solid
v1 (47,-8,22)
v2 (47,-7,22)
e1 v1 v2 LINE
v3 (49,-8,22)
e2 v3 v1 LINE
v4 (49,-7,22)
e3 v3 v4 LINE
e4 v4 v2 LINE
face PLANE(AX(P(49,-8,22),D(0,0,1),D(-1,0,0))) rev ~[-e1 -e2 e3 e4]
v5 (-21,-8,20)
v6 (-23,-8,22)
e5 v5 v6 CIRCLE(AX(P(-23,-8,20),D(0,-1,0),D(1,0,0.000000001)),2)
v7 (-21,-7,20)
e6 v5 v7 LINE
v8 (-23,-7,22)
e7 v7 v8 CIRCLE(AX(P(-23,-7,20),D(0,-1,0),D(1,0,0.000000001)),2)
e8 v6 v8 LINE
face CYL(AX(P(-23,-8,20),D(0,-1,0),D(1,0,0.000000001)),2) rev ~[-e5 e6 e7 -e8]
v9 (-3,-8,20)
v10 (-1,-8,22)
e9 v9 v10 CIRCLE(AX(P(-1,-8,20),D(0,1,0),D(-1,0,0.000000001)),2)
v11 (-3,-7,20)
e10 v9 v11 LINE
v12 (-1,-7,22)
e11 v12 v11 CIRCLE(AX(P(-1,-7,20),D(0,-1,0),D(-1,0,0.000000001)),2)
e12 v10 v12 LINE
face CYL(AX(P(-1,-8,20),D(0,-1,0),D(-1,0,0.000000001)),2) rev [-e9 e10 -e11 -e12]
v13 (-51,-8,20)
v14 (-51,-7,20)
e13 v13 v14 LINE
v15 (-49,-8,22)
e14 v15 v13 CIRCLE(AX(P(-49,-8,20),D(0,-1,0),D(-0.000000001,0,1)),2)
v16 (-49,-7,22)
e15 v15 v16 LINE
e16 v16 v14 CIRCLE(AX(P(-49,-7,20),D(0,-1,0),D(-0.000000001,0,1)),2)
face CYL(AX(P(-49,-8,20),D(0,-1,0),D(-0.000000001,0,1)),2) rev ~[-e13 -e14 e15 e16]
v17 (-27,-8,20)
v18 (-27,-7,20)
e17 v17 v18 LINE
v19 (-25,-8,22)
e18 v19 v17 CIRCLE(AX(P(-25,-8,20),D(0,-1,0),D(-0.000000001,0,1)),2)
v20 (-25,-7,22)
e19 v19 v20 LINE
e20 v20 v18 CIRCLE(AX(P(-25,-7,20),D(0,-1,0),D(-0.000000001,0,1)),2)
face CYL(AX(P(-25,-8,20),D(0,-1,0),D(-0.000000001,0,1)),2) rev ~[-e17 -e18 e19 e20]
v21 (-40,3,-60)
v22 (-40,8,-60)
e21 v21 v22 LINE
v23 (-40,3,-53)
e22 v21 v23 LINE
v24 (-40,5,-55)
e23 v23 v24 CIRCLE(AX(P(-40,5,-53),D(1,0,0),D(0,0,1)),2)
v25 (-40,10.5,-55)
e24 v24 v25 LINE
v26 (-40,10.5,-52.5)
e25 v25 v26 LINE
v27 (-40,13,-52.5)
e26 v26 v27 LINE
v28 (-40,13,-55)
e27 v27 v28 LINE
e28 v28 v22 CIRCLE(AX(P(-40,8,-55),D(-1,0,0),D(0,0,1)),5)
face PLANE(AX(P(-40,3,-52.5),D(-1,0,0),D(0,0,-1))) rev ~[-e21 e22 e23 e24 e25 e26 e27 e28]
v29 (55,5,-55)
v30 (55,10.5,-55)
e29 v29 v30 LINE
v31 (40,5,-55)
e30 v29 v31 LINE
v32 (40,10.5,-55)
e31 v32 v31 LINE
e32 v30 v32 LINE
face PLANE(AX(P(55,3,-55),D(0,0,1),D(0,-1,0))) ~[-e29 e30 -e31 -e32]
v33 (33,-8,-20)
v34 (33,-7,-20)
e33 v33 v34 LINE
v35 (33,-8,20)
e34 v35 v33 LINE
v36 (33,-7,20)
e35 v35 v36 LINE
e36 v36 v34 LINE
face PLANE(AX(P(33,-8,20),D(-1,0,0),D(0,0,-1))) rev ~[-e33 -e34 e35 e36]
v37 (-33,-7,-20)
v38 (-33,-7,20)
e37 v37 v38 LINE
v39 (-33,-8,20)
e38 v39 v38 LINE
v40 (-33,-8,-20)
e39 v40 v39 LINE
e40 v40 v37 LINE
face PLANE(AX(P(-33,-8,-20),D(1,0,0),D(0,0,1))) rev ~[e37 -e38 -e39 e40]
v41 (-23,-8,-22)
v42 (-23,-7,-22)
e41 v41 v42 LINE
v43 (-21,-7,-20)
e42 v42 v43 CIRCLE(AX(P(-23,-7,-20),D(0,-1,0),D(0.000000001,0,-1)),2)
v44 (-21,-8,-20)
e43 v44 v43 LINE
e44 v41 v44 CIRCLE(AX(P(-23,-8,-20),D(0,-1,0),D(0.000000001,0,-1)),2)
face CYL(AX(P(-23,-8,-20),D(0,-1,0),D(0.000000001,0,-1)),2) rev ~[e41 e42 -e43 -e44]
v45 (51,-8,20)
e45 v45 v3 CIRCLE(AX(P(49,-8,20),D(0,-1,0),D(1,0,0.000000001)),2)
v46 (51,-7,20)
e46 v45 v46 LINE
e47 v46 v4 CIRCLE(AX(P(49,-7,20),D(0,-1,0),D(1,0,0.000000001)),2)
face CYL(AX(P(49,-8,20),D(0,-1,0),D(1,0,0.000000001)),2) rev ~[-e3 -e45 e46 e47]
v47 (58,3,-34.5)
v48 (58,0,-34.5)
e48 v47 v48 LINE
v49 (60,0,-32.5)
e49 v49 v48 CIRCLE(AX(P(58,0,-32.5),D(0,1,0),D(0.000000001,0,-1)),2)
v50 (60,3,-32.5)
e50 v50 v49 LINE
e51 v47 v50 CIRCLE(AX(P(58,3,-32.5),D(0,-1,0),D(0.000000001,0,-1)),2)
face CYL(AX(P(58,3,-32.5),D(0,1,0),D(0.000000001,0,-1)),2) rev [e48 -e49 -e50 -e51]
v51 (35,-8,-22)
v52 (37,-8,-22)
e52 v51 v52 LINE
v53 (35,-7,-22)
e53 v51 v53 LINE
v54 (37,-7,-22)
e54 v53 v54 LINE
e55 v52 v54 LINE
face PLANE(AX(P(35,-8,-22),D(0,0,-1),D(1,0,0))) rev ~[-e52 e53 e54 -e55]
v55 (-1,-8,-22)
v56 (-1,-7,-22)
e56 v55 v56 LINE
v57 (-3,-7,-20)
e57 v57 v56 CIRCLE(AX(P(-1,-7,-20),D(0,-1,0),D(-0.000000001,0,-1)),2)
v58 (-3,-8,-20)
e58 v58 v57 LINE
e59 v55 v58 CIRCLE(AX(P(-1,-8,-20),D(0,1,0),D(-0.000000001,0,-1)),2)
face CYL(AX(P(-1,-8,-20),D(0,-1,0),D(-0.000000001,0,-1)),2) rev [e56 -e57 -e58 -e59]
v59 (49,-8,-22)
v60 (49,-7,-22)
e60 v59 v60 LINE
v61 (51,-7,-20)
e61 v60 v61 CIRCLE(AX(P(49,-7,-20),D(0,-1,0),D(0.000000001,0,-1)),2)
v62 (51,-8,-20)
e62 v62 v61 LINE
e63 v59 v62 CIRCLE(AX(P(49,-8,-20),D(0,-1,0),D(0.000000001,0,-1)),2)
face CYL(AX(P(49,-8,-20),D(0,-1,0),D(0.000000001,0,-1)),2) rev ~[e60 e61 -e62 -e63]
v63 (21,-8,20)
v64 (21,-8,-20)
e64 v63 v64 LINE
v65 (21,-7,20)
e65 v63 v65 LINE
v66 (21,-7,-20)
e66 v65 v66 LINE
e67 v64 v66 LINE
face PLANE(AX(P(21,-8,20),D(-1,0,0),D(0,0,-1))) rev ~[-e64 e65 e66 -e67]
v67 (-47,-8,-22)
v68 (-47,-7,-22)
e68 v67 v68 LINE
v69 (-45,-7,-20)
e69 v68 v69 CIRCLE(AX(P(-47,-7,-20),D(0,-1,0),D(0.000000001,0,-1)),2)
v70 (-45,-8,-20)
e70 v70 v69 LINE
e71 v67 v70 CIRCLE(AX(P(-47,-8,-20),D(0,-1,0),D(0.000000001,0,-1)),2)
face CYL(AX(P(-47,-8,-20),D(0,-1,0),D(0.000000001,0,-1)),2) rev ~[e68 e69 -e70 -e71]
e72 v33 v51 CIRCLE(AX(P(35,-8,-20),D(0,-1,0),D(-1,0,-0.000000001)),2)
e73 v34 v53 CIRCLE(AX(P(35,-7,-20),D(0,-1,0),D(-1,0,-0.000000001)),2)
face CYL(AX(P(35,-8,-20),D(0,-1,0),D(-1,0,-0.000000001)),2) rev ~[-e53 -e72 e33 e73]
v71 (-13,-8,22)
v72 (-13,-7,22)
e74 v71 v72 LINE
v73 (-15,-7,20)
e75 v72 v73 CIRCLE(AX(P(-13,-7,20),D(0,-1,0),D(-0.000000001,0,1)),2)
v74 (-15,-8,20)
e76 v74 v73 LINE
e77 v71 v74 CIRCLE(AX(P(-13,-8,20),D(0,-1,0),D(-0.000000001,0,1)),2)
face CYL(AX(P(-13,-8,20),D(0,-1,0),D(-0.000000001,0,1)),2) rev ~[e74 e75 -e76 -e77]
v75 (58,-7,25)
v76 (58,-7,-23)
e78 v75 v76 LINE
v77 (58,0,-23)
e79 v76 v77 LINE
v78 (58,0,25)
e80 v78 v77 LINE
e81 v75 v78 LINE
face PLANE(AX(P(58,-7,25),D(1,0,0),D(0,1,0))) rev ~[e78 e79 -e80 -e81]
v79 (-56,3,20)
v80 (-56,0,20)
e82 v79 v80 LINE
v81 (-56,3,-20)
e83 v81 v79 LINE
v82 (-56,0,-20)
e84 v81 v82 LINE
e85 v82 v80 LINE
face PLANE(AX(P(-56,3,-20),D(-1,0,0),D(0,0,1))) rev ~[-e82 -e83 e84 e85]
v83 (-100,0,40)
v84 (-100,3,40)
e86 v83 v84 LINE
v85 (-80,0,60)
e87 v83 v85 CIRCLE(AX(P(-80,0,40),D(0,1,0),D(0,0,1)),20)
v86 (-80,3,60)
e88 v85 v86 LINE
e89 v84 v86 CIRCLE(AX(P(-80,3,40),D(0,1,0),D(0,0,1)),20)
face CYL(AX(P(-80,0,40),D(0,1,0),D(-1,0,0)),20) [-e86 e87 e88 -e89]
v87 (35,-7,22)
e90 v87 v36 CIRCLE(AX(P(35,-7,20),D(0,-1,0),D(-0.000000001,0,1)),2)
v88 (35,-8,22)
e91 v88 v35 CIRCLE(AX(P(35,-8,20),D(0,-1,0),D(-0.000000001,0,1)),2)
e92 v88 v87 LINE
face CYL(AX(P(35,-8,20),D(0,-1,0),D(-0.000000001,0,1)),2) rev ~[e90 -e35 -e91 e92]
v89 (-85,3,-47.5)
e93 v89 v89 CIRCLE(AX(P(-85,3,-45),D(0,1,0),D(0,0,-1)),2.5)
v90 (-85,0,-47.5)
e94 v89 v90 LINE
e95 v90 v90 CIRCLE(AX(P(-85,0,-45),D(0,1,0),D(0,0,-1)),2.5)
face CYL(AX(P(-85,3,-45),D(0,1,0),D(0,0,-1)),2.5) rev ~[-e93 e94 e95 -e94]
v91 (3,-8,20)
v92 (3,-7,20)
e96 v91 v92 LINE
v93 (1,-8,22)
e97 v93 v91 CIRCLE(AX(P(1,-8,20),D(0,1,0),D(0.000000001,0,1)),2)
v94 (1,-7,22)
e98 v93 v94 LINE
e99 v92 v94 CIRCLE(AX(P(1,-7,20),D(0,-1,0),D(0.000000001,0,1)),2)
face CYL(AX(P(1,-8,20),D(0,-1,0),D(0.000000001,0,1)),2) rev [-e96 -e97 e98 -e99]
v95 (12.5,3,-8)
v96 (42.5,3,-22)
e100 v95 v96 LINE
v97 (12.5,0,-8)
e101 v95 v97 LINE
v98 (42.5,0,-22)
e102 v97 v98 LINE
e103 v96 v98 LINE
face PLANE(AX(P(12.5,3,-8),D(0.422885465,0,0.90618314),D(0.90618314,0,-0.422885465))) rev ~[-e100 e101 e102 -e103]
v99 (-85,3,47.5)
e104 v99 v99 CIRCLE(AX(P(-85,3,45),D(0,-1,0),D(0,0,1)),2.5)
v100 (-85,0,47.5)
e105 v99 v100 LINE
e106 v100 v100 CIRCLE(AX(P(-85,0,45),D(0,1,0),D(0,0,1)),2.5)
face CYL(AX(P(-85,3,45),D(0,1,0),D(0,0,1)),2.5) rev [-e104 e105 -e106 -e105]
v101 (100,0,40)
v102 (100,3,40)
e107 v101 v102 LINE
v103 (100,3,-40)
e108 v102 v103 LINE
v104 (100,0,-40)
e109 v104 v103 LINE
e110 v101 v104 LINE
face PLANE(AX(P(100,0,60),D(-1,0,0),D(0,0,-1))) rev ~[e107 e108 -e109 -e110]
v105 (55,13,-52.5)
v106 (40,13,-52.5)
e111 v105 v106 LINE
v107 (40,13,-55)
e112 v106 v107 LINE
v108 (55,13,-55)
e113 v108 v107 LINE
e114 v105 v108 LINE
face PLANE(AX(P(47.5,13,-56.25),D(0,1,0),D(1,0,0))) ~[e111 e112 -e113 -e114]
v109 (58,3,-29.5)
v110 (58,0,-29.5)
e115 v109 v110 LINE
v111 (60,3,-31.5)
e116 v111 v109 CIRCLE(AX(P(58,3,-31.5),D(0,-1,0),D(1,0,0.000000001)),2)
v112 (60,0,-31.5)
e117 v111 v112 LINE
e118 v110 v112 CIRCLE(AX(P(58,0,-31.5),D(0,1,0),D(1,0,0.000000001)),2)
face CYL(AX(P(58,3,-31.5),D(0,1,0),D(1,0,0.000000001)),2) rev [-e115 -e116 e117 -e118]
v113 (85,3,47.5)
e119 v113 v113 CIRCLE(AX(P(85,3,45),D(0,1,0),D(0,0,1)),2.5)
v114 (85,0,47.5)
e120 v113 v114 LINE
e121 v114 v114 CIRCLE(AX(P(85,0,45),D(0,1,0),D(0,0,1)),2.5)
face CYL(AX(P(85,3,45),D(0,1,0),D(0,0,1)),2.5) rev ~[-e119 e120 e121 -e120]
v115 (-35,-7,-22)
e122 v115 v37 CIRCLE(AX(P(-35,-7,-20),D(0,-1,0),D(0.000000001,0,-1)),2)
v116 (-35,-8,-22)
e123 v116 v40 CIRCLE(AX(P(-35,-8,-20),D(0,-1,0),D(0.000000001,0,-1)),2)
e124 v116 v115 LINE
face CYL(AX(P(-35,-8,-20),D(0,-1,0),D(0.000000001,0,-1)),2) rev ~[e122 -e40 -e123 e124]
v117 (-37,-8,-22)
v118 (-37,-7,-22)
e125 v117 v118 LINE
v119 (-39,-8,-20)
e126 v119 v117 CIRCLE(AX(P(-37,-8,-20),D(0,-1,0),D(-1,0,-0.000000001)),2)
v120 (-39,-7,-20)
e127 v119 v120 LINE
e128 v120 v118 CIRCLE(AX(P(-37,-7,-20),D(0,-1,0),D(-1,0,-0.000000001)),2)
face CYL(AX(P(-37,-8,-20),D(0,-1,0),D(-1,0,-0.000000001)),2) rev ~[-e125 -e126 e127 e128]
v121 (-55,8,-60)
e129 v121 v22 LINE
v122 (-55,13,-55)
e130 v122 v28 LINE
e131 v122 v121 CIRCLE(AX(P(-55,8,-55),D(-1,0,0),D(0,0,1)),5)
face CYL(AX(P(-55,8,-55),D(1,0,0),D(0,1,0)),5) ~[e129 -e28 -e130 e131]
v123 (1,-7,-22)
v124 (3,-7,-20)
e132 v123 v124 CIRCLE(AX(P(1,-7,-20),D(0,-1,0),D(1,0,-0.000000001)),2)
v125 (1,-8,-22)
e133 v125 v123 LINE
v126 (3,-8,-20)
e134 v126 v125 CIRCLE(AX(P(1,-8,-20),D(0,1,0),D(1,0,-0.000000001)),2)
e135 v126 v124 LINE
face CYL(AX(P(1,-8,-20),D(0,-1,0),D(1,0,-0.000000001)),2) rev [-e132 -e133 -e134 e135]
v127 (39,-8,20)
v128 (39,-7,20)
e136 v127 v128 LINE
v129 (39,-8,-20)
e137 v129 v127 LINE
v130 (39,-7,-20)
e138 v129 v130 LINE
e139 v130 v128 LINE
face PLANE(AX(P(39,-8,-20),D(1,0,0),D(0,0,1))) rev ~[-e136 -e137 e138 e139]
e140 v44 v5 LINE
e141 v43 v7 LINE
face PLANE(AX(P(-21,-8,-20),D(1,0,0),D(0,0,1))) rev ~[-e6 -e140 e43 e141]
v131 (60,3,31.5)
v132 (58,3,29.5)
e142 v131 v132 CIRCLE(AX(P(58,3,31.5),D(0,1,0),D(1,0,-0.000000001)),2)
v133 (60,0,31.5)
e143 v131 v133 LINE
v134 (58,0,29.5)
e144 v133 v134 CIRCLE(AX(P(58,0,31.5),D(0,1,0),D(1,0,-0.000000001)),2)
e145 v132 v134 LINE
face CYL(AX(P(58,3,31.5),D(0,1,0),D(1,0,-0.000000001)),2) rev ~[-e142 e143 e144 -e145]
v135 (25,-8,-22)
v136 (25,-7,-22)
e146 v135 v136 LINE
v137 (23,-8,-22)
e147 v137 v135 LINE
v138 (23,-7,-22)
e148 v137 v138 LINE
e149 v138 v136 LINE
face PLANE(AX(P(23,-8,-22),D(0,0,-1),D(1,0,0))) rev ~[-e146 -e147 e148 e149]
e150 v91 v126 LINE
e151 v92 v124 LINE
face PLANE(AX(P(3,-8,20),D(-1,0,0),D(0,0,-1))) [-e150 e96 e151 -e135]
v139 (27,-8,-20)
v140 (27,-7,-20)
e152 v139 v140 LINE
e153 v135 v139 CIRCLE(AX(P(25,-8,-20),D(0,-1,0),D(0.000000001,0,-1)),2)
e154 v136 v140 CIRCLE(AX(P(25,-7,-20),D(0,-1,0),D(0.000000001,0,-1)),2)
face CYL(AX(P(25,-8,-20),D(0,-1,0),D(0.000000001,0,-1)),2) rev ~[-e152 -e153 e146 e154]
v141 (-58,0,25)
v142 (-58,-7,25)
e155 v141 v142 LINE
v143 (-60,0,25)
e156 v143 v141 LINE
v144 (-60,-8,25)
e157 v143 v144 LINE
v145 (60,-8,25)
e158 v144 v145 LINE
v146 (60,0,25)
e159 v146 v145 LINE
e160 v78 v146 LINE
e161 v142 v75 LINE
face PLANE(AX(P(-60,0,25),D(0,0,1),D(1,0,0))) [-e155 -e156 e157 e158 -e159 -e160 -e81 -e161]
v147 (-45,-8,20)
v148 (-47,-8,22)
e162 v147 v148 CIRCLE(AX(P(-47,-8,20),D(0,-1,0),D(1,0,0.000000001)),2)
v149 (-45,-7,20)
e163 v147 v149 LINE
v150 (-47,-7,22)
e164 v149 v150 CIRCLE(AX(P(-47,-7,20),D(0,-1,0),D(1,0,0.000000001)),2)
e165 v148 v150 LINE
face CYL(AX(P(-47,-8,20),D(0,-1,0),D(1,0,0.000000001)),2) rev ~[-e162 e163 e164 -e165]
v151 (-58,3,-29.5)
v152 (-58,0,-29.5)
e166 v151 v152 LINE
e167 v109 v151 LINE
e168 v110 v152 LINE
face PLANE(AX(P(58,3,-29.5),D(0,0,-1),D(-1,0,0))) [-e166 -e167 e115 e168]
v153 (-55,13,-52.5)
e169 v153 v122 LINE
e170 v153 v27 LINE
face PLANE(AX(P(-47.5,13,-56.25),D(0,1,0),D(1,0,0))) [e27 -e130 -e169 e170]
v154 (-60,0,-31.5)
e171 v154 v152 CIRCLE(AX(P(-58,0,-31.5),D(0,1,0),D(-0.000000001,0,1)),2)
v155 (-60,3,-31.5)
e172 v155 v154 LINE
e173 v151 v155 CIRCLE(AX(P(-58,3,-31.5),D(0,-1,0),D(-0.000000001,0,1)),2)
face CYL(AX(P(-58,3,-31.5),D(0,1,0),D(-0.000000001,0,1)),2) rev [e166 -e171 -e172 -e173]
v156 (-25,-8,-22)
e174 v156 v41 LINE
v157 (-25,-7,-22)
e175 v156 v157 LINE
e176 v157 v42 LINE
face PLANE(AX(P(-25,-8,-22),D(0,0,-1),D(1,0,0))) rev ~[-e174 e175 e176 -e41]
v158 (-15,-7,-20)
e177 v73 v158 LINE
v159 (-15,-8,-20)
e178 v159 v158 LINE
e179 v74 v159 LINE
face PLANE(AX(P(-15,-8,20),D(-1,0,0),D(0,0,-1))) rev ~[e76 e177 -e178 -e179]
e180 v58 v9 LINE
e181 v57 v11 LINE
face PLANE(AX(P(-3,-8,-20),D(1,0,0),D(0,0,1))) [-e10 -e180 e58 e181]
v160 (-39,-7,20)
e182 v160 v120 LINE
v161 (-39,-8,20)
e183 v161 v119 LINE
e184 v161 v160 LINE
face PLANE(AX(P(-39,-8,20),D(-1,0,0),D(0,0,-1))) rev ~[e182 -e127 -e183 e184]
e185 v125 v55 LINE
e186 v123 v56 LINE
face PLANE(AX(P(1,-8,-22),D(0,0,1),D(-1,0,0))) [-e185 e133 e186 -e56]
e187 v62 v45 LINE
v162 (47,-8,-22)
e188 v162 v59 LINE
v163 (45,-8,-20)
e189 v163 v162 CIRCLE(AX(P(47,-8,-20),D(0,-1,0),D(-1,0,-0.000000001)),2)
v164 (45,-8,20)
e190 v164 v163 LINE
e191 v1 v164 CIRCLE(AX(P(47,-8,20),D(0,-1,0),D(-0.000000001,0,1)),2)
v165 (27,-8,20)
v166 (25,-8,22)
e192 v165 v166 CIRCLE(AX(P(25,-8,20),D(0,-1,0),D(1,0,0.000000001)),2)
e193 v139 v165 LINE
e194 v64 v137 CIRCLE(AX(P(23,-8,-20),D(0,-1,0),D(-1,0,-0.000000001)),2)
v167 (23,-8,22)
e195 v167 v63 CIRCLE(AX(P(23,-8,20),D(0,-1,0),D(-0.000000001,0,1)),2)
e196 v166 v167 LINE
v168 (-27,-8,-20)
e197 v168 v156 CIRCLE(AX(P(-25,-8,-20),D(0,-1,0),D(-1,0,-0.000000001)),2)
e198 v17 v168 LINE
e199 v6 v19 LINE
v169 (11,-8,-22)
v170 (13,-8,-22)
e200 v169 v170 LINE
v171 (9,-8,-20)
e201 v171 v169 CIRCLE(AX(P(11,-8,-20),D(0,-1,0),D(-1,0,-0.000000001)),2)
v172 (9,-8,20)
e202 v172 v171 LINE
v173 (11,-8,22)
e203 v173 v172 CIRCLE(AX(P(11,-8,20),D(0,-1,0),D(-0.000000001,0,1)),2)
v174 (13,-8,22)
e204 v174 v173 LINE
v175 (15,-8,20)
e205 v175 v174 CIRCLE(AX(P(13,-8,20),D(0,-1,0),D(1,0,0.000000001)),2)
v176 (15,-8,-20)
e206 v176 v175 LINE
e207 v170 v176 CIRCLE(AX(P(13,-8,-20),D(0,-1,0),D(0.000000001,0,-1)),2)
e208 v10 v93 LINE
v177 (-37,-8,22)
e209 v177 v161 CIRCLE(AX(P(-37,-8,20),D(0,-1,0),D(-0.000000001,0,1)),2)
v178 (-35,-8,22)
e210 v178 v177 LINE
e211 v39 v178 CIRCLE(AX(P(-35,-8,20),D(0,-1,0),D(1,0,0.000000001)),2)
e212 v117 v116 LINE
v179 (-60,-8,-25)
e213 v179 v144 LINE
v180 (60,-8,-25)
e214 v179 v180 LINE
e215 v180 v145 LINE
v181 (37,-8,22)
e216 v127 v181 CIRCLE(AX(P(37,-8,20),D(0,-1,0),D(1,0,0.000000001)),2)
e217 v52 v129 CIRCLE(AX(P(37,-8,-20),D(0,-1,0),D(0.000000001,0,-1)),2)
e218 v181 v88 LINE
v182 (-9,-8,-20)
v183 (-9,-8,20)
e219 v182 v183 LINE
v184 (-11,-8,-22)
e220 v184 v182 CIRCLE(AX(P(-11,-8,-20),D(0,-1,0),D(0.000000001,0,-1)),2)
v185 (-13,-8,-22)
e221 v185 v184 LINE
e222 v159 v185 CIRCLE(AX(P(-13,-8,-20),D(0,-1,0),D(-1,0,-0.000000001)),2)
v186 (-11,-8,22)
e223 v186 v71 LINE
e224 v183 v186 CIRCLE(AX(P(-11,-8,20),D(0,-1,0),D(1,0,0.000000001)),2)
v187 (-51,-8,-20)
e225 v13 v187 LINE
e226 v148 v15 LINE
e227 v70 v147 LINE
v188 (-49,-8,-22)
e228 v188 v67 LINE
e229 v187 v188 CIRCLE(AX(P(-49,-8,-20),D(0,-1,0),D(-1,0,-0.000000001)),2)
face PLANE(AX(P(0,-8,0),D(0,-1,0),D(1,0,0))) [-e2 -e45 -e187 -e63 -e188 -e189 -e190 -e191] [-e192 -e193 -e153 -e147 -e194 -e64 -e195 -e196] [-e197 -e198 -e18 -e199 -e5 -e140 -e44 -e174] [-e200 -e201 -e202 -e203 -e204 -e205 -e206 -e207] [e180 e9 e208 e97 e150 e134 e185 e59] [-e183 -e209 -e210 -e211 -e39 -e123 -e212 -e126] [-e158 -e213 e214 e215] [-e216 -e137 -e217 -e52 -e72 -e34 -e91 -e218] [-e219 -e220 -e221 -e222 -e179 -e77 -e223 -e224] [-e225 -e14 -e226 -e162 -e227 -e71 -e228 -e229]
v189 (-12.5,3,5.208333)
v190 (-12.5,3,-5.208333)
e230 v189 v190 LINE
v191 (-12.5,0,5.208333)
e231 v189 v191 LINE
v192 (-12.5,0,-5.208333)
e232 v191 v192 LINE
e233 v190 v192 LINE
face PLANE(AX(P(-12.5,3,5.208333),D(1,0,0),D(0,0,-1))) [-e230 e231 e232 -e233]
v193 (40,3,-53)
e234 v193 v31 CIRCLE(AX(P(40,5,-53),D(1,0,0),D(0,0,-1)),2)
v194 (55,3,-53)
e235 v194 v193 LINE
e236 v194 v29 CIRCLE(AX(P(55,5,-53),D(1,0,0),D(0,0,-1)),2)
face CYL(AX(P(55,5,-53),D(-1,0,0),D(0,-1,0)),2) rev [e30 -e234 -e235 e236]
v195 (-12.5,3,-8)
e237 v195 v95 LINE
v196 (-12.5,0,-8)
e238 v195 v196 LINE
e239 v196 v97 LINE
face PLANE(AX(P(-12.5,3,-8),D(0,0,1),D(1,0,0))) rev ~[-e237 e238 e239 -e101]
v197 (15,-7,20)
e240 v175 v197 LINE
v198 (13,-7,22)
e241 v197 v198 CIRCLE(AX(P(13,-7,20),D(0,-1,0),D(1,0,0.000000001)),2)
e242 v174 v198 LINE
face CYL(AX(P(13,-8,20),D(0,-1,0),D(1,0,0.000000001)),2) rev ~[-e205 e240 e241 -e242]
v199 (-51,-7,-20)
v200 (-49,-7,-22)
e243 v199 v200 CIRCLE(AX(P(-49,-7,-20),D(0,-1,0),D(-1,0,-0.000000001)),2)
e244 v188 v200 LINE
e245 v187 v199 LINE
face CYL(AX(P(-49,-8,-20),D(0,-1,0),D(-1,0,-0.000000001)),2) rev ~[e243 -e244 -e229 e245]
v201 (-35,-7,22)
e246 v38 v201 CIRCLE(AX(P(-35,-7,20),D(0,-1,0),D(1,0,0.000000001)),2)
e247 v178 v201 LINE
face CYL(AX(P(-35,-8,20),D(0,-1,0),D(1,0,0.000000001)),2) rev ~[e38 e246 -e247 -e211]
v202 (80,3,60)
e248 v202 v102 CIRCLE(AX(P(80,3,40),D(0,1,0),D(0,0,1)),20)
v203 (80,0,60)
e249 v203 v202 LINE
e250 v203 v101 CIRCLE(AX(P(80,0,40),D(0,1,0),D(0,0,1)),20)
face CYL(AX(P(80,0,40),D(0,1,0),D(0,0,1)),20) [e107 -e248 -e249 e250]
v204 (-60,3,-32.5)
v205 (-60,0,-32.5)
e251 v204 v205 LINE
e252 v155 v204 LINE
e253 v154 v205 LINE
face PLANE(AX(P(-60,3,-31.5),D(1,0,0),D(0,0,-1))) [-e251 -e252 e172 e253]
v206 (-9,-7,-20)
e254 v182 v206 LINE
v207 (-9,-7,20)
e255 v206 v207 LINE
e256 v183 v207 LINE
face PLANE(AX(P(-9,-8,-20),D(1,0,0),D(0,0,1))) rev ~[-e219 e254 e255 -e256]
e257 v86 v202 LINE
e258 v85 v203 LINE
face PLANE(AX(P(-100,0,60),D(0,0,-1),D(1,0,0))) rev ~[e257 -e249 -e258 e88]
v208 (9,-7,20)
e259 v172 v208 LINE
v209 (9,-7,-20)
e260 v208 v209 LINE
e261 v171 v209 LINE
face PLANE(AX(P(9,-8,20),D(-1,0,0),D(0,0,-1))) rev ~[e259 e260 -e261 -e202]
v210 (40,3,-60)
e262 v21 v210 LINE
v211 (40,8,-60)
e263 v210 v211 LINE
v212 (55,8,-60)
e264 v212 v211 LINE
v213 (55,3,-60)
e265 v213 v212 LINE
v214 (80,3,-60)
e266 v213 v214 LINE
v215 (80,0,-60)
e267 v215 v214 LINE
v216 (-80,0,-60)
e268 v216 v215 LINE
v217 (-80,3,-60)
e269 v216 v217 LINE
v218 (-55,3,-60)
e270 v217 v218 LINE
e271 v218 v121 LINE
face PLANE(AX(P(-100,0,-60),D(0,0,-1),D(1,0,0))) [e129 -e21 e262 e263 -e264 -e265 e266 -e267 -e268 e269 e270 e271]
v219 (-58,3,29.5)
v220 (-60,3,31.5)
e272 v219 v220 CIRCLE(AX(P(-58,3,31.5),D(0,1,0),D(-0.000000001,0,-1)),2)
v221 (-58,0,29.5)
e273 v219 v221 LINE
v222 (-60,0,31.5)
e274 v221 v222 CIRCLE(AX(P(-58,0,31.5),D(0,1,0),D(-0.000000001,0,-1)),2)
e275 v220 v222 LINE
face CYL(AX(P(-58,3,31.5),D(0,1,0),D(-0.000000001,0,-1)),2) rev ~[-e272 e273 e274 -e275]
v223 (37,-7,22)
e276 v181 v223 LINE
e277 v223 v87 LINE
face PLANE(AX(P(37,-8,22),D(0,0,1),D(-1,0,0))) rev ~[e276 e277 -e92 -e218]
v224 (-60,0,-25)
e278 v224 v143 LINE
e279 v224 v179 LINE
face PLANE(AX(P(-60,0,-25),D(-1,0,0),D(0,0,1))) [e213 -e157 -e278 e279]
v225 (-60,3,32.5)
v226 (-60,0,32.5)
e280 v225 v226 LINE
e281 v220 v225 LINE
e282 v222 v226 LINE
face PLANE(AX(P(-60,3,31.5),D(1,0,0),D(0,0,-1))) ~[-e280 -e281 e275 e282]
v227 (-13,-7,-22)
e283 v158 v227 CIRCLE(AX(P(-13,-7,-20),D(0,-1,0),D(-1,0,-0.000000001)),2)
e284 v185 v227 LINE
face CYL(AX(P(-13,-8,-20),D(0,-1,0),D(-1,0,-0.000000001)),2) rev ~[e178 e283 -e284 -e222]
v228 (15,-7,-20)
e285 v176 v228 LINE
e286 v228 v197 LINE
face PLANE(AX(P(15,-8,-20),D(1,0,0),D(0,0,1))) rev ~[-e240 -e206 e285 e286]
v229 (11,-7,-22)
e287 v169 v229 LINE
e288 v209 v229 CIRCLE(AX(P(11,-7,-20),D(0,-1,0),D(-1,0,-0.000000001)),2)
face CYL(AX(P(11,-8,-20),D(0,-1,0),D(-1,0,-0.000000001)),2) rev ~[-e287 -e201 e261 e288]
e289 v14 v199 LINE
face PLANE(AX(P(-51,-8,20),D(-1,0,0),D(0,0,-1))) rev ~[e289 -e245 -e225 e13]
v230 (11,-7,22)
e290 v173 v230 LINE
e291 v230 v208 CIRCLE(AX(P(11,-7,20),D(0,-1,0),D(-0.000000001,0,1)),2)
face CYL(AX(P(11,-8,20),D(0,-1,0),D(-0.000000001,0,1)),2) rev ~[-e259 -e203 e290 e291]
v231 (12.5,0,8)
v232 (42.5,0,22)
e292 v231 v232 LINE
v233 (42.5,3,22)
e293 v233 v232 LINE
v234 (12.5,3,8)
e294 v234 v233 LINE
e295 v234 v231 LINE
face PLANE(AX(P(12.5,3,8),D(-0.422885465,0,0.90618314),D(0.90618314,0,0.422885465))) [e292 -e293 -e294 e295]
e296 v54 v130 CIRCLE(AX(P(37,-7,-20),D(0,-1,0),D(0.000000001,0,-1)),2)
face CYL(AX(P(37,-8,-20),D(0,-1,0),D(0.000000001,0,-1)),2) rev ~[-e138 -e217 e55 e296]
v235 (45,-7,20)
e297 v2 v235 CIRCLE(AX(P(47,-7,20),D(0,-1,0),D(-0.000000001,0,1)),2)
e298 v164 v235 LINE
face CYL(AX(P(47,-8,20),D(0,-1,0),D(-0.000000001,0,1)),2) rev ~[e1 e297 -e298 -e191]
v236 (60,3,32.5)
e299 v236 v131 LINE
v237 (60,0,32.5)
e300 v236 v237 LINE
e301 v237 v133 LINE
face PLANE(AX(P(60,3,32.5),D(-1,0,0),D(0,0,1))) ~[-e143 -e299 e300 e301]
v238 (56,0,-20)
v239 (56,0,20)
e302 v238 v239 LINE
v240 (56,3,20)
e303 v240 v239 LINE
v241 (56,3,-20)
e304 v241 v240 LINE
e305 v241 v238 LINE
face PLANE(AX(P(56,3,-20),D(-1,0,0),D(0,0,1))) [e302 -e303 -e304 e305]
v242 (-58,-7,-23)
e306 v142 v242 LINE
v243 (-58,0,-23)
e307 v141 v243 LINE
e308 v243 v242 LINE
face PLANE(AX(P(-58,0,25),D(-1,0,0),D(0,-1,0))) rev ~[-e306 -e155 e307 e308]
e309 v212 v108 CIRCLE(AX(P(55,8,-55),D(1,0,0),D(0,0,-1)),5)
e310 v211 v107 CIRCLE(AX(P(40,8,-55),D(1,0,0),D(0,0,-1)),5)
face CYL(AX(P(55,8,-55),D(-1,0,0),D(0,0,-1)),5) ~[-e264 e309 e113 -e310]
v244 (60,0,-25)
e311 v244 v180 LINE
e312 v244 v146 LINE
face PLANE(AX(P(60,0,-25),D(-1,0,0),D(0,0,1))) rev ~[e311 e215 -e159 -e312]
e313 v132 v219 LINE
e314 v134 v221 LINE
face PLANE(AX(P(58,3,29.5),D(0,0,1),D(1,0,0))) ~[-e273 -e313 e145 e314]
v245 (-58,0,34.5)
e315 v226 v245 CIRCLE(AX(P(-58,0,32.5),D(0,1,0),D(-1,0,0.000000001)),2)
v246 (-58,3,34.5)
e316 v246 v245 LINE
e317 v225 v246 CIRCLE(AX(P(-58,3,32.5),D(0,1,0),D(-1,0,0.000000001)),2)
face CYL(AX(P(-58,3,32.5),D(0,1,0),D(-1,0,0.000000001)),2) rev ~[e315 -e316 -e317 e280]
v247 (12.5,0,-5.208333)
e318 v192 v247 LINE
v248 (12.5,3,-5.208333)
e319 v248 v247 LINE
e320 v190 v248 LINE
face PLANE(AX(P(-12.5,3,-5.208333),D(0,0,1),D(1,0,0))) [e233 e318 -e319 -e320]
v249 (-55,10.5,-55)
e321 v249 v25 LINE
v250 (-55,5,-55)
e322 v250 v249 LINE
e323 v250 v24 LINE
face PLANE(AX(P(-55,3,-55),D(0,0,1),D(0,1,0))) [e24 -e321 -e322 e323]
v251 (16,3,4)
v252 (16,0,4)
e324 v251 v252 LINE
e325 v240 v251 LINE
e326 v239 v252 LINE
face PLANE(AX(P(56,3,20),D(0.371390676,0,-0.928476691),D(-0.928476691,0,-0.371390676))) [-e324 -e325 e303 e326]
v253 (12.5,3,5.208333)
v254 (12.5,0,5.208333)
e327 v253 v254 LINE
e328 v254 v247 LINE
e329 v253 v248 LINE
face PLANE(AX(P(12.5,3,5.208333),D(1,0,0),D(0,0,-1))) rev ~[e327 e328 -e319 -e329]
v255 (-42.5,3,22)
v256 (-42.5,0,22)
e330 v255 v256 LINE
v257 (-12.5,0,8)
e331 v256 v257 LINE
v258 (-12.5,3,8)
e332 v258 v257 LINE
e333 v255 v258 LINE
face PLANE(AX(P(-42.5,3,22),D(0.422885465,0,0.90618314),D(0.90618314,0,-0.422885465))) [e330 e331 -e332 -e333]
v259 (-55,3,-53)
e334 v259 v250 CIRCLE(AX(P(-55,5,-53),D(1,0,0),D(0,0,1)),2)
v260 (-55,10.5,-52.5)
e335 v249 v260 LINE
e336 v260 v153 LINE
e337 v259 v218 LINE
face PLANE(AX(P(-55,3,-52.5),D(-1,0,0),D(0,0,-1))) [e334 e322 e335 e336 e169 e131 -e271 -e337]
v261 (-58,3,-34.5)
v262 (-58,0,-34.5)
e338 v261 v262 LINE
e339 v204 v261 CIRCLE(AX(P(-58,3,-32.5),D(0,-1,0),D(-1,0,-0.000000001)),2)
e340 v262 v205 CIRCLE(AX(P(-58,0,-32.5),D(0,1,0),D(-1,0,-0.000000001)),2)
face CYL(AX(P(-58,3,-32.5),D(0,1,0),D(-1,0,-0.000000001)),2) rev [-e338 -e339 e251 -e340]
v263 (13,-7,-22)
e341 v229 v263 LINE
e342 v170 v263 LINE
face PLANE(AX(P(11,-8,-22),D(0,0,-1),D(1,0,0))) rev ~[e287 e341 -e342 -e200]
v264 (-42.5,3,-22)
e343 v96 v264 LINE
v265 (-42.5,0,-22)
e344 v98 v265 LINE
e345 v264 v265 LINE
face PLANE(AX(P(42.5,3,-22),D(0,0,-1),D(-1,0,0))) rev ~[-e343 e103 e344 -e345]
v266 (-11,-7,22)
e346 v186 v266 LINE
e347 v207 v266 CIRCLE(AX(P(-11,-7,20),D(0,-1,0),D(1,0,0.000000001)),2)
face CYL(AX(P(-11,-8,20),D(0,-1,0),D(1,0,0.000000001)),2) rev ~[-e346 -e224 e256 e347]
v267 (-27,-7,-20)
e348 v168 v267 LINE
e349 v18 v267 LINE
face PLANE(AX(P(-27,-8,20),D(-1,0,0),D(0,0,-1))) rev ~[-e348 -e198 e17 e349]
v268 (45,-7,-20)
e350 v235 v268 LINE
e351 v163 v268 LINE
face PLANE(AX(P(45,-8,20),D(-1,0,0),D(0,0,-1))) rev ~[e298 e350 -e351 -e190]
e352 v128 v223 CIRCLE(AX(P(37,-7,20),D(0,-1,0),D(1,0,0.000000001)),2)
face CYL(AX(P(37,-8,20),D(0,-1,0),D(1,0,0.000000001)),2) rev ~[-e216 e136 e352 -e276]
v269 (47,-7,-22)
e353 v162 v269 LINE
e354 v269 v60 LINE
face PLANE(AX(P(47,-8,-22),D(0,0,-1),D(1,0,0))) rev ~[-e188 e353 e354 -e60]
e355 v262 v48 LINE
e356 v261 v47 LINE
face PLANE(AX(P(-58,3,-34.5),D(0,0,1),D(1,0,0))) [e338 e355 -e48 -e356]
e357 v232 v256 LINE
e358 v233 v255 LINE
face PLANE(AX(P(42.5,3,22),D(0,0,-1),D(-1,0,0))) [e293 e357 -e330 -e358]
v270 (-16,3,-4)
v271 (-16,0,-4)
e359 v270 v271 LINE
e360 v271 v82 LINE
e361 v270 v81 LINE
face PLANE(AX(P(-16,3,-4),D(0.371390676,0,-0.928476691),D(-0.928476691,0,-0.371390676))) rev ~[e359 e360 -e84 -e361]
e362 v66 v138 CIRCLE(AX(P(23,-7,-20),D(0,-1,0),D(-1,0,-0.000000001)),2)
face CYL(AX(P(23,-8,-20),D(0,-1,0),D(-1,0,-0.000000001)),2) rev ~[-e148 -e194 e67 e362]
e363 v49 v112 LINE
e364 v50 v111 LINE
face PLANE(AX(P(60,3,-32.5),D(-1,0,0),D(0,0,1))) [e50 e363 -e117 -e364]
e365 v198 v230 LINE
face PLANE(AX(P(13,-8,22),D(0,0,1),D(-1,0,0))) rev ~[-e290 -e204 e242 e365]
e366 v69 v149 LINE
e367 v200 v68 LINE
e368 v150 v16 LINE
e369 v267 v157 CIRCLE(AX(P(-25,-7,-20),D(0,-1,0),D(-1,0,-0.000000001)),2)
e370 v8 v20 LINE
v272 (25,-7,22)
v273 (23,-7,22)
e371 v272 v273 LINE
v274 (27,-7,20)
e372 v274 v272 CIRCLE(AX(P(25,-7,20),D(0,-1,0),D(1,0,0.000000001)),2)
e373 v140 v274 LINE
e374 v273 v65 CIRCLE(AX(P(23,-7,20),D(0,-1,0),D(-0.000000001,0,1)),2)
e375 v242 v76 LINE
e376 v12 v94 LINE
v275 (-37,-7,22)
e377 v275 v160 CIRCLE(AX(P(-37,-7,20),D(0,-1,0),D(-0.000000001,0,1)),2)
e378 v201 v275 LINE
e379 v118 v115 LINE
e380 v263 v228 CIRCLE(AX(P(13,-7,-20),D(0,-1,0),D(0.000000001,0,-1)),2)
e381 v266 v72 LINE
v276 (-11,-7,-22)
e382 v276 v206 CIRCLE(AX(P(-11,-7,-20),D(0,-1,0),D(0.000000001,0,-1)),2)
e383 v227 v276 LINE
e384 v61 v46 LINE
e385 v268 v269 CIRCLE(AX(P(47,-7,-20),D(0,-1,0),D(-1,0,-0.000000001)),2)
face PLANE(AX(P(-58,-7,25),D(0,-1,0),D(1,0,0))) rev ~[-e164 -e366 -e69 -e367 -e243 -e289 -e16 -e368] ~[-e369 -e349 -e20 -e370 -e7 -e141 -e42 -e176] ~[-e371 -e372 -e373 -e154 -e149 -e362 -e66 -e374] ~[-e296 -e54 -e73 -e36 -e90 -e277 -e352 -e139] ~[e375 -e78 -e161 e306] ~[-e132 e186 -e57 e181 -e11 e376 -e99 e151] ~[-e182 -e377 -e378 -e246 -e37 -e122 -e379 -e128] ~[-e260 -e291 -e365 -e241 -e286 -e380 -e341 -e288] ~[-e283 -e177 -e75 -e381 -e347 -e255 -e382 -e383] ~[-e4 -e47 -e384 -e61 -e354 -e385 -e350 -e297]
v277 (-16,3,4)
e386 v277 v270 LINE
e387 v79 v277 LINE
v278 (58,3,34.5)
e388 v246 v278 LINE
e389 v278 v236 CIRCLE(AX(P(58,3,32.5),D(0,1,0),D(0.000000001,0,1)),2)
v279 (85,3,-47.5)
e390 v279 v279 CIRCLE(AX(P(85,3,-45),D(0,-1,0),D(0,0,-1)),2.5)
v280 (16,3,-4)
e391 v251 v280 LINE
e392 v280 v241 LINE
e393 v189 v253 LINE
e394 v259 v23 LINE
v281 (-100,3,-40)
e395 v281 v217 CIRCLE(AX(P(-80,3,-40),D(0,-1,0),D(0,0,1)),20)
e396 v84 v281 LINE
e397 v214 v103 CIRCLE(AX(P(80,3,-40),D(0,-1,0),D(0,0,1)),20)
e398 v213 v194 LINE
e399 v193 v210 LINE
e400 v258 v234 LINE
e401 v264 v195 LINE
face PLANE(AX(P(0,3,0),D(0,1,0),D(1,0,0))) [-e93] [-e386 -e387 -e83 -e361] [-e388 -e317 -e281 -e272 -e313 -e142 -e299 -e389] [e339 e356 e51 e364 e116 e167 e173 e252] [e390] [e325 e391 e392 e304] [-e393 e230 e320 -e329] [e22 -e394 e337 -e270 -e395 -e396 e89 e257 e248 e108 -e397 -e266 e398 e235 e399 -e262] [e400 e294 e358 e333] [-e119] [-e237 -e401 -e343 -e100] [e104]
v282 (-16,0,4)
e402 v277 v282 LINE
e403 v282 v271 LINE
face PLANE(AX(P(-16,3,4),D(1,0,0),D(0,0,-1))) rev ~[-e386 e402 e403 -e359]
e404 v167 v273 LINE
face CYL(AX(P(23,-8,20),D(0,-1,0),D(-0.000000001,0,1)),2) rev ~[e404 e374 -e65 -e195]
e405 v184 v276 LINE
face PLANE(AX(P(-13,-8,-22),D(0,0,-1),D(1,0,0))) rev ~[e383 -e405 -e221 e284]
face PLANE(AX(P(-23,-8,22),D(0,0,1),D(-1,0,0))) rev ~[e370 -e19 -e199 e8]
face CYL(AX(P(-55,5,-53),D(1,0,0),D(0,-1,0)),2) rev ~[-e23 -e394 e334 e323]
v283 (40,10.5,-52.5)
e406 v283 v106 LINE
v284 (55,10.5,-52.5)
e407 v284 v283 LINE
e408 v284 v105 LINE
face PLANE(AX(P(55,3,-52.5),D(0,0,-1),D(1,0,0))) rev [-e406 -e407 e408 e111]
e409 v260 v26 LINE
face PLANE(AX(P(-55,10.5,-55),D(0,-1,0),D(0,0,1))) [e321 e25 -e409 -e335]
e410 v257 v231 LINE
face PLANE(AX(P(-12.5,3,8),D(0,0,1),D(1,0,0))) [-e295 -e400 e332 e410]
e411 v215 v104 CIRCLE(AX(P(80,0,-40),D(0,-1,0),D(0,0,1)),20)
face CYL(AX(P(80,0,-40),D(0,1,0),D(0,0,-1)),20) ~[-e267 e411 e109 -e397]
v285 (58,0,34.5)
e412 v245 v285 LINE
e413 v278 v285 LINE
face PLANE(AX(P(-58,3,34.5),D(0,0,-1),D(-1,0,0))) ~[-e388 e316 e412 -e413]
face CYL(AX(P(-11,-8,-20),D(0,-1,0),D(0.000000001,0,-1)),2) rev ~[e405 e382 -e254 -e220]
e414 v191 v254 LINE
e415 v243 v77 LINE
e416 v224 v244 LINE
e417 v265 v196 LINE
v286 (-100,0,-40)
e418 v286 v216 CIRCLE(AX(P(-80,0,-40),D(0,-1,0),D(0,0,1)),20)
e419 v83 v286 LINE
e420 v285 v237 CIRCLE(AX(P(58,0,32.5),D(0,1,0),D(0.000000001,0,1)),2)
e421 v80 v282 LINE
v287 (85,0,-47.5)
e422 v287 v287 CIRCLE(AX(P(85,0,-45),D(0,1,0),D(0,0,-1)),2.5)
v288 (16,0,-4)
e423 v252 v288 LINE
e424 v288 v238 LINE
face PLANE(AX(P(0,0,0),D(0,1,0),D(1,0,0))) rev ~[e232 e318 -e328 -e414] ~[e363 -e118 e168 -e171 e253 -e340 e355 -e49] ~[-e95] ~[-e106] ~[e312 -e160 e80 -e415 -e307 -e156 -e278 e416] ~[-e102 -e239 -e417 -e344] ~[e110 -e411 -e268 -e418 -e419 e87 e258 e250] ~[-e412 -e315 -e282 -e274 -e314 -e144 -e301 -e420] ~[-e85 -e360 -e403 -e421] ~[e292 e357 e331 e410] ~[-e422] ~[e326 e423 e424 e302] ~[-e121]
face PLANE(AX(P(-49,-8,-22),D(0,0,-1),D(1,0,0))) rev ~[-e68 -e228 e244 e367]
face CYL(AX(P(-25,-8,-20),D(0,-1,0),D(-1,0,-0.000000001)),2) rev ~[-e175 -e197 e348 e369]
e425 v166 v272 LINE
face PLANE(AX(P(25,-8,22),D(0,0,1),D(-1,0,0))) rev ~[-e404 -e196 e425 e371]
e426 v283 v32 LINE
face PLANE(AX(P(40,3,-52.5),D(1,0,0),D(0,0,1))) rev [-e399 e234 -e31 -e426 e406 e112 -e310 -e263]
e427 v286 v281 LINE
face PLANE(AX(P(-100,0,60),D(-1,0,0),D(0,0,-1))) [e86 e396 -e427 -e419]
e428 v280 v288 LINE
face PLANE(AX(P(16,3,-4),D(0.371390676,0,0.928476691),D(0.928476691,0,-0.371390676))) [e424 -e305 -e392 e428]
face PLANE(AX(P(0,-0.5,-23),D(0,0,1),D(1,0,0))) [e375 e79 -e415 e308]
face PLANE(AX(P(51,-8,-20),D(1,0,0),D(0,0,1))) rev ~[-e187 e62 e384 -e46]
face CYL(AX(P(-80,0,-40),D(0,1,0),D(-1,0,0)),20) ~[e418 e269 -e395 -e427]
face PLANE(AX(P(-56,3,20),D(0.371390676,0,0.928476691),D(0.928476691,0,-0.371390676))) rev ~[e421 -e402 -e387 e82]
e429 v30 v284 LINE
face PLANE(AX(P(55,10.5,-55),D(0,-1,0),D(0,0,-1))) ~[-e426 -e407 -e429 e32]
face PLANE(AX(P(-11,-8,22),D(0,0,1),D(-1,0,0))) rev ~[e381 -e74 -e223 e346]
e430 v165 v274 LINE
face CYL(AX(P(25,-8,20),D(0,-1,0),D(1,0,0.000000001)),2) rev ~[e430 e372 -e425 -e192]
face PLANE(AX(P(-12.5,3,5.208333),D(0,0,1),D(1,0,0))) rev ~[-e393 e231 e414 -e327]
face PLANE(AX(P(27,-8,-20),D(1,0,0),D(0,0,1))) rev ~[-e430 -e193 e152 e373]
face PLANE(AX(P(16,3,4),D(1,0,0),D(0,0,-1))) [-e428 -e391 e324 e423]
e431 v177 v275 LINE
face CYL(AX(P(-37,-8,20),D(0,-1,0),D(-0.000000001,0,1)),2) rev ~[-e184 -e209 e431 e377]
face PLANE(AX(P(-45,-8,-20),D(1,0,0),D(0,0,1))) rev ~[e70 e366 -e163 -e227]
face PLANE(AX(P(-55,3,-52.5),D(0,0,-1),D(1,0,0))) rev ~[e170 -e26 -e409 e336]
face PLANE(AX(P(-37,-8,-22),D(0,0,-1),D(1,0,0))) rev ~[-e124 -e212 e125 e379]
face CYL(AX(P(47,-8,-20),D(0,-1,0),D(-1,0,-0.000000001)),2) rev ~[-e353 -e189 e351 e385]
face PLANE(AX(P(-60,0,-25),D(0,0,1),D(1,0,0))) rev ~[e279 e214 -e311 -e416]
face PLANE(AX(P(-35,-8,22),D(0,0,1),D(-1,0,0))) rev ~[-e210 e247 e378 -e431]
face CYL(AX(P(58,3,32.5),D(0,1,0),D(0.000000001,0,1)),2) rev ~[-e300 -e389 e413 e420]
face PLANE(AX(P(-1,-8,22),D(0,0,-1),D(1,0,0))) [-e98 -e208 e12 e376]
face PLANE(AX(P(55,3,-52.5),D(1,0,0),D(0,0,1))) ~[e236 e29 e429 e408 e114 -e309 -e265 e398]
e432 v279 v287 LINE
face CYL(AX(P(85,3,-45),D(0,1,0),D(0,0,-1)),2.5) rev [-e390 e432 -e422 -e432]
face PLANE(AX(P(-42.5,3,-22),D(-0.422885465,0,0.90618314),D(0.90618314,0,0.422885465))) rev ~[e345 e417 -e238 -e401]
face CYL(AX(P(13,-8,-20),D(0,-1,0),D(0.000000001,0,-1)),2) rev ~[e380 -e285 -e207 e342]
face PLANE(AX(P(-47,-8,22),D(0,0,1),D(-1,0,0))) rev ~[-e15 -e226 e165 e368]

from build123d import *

# Parameters (mm, degrees)
SKETCH1_W               = 200
SKETCH1_H               = 120
BOSS_EXTRUDE1_DEPTH     = 3
SKETCH2_W               = 120
SKETCH2_H               = 50
BOSS_EXTRUDE2_DEPTH     = 8
SKETCH3_W               = 116
SKETCH3_H               = 1
SKETCH3_H_2             = 6
CUT_EXTRUDE2_DEPTH      = 48
SKETCH4_W               = 25
SKETCH4_H               = 10.416666666
CUT_EXTRUDE3_DEPTH      = 4
CUT_EXTRUDE4_DEPTH      = 4
FILLET1_R               = 20
SKETCH6_W               = 15
SKETCH6_H               = 7.5
BOSS_EXTRUDE3_DEPTH     = 10
SKETCH7_W               = 2.5
SKETCH7_H               = 7.5
CUT_EXTRUDE5_DEPTH      = 17
FILLET4_R               = 2
FILLET5_R               = 5
CUT_EXTRUDE6_DEPTH      = 10
FILLET4_OF_MIRROR3_R    = 2
FILLET5_OF_MIRROR3_R    = 5
SKETCH10_R              = 2.5
CUT_EXTRUDE7_DEPTH      = 15
MIRROR5_COPY_1_SKETCH_R = 2.5
MIRROR5_COPY_1_DEPTH    = 15


with BuildPart() as part:
    # Sketch1 → Boss-Extrude1 (new body)
    with BuildSketch(Plane(origin=(0, 0, 0), x_dir=(1, 0, 0), z_dir=(0, 1, 0))):
        Rectangle(SKETCH1_W, SKETCH1_H)
    extrude(amount=BOSS_EXTRUDE1_DEPTH)

    # Sketch2 → Boss-Extrude2 (add)
    with BuildSketch(Plane.XZ):
        Rectangle(SKETCH2_W, SKETCH2_H)
    extrude(amount=BOSS_EXTRUDE2_DEPTH)

    # Sketch3 → Cut-Extrude2 (cut)
    with BuildSketch(Plane.XY.offset(25)):
        with Locations((0, -0.5)):
            Rectangle(SKETCH3_W, SKETCH3_H)
        with Locations((0, -4)):
            Rectangle(SKETCH3_W, SKETCH3_H_2)
    extrude(amount=-CUT_EXTRUDE2_DEPTH, mode=Mode.SUBTRACT)

    # Sketch4 → Cut-Extrude3 (cut)
    with BuildSketch(Plane(origin=(0, 3, 0), x_dir=(1, 0, 0), z_dir=(0, 1, 0))):
        Polygon((12.5, -8), (42.5, -22), (-42.5, -22), (-12.5, -8), align=None)
        Polygon((56, 20), (56, -20), (16, -4), (16, 4), align=None)
        Polygon((-12.5, 8), (12.5, 8), (42.5, 22), (-42.5, 22), align=None)
        Rectangle(SKETCH4_W, SKETCH4_H)
        Polygon((-16, -4), (-16, 0), (-56, 0), (-56, -20), align=None)
        Polygon((-16, 0), (-16, 4), (-56, 20), (-56, 0), align=None)
    extrude(amount=-CUT_EXTRUDE3_DEPTH, mode=Mode.SUBTRACT)

    # Sketch5 → Cut-Extrude4 (cut)
    with BuildSketch(Plane.XZ.offset(8)):
        with BuildLine():
            Line((9, 20), (9, -20))
            ThreePointArc((9, -20), (9.585786438, -21.414213562), (11, -22))
            Line((11, -22), (13, -22))
            ThreePointArc((13, -22), (14.414213562, -21.414213562), (15, -20))
            Line((15, -20), (15, 20))
            ThreePointArc((15, 20), (14.414213562, 21.414213562), (13, 22))
            Line((13, 22), (11, 22))
            ThreePointArc((11, 22), (9.585786438, 21.414213562), (9, 20))
        make_face()
        with BuildLine():
            Line((-1, 22), (1, 22))
            ThreePointArc((1, 22), (2.414213562, 21.414213562), (3, 20))
            Line((3, 20), (3, -20))
            ThreePointArc((3, -20), (2.414213562, -21.414213562), (1, -22))
            Line((1, -22), (-1, -22))
            ThreePointArc((-1, -22), (-2.414213562, -21.414213562), (-3, -20))
            Line((-3, -20), (-3, 20))
            ThreePointArc((-3, 20), (-2.414213562, 21.414213562), (-1, 22))
        make_face()
        with BuildLine():
            Line((21, 20), (21, -20))
            ThreePointArc((21, -20), (21.585786438, -21.414213562), (23, -22))
            Line((23, -22), (25, -22))
            ThreePointArc((25, -22), (26.414213562, -21.414213562), (27, -20))
            Line((27, -20), (27, 20))
            ThreePointArc((27, 20), (26.414213562, 21.414213562), (25, 22))
            Line((25, 22), (23, 22))
            ThreePointArc((23, 22), (21.585786438, 21.414213562), (21, 20))
        make_face()
        with BuildLine():
            Line((33, 20), (33, -20))
            ThreePointArc((33, -20), (33.585786438, -21.414213562), (35, -22))
            Line((35, -22), (37, -22))
            ThreePointArc((37, -22), (38.414213562, -21.414213562), (39, -20))
            Line((39, -20), (39, 20))
            ThreePointArc((39, 20), (38.414213562, 21.414213562), (37, 22))
            Line((37, 22), (35, 22))
            ThreePointArc((35, 22), (33.585786438, 21.414213562), (33, 20))
        make_face()
        with BuildLine():
            Line((45, 20), (45, -20))
            ThreePointArc((45, -20), (45.585786438, -21.414213562), (47, -22))
            Line((47, -22), (49, -22))
            ThreePointArc((49, -22), (50.414213562, -21.414213562), (51, -20))
            Line((51, -20), (51, 20))
            ThreePointArc((51, 20), (50.414213562, 21.414213562), (49, 22))
            Line((49, 22), (47, 22))
            ThreePointArc((47, 22), (45.585786438, 21.414213562), (45, 20))
        make_face()
        with BuildLine():
            Line((-15, 20), (-15, -20))
            ThreePointArc((-15, -20), (-14.414213562, -21.414213562), (-13, -22))
            Line((-13, -22), (-11, -22))
            ThreePointArc((-11, -22), (-9.585786438, -21.414213562), (-9, -20))
            Line((-9, -20), (-9, 20))
            ThreePointArc((-9, 20), (-9.585786438, 21.414213562), (-11, 22))
            Line((-11, 22), (-13, 22))
            ThreePointArc((-13, 22), (-14.414213562, 21.414213562), (-15, 20))
        make_face()
        with BuildLine():
            Line((-27, 20), (-27, -20))
            ThreePointArc((-27, -20), (-26.414213562, -21.414213562), (-25, -22))
            Line((-25, -22), (-23, -22))
            ThreePointArc((-23, -22), (-21.585786438, -21.414213562), (-21, -20))
            Line((-21, -20), (-21, 20))
            ThreePointArc((-21, 20), (-21.585786438, 21.414213562), (-23, 22))
            Line((-23, 22), (-25, 22))
            ThreePointArc((-25, 22), (-26.414213562, 21.414213562), (-27, 20))
        make_face()
        with BuildLine():
            Line((-39, 20), (-39, -20))
            ThreePointArc((-39, -20), (-38.414213562, -21.414213562), (-37, -22))
            Line((-37, -22), (-35, -22))
            ThreePointArc((-35, -22), (-33.585786438, -21.414213562), (-33, -20))
            Line((-33, -20), (-33, 20))
            ThreePointArc((-33, 20), (-33.585786438, 21.414213562), (-35, 22))
            Line((-35, 22), (-37, 22))
            ThreePointArc((-37, 22), (-38.414213562, 21.414213562), (-39, 20))
        make_face()
        with BuildLine():
            Line((-51, 20), (-51, -20))
            ThreePointArc((-51, -20), (-50.414213562, -21.414213562), (-49, -22))
            Line((-49, -22), (-47, -22))
            ThreePointArc((-47, -22), (-45.585786438, -21.414213562), (-45, -20))
            Line((-45, -20), (-45, 20))
            ThreePointArc((-45, 20), (-45.585786438, 21.414213562), (-47, 22))
            Line((-47, 22), (-49, 22))
            ThreePointArc((-49, 22), (-50.414213562, 21.414213562), (-51, 20))
        make_face()
    extrude(amount=-CUT_EXTRUDE4_DEPTH, mode=Mode.SUBTRACT)

    # Fillet1
    fillet1_edges = [part.edges().sort_by_distance(p)[0] for p in [
        (100, 1.5, 60),
        (-100, 1.5, 60),
        (-100, 1.5, -60),
        (100, 1.5, -60),
    ]]
    fillet(fillet1_edges, radius=FILLET1_R)

    # Sketch6 → Boss-Extrude3 (add)
    with BuildSketch(Plane(origin=(0, 3, 0), x_dir=(1, 0, 0), z_dir=(0, 1, 0))):
        with Locations((-47.5, 56.25)):
            Rectangle(SKETCH6_W, SKETCH6_H)
    boss_extrude3 = extrude(amount=BOSS_EXTRUDE3_DEPTH)

    # Sketch7 → Cut-Extrude5 (cut)
    with BuildSketch(Plane.ZY.offset(55)):
        with Locations((-53.75, 6.75)):
            Rectangle(SKETCH7_W, SKETCH7_H)
    cut_extrude5 = extrude(amount=-CUT_EXTRUDE5_DEPTH, mode=Mode.SUBTRACT)

    # Fillet4
    fillet4_edges = [part.edges().sort_by_distance(p)[0] for p in [
        (-47.5, 3, -55),
    ]]
    fillet(fillet4_edges, radius=FILLET4_R)

    # Fillet5
    fillet5_edges = [part.edges().sort_by_distance(p)[0] for p in [
        (-47.5, 13, -60),
    ]]
    fillet(fillet5_edges, radius=FILLET5_R)

    # Sketch8 → Cut-Extrude6 (cut)
    with BuildSketch(Plane(origin=(0, 3, 0), x_dir=(1, 0, 0), z_dir=(0, 1, 0))):
        with BuildLine():
            Line((-58, 34.5), (58, 34.5))
            ThreePointArc((58, 34.5), (59.414213562, 33.914213562), (60, 32.5))
            Line((60, 32.5), (60, 31.5))
            ThreePointArc((60, 31.5), (59.414213562, 30.085786438), (58, 29.5))
            Line((58, 29.5), (-58, 29.5))
            ThreePointArc((-58, 29.5), (-59.414213562, 30.085786438), (-60, 31.5))
            Line((-60, 31.5), (-60, 32.5))
            ThreePointArc((-60, 32.5), (-59.414213562, 33.914213562), (-58, 34.5))
        make_face()
    cut_extrude6 = extrude(amount=-CUT_EXTRUDE6_DEPTH, mode=Mode.SUBTRACT)

    # Mirror1: Cut-Extrude6 across plane
    add(cut_extrude6.mirror(Plane.XY), mode=Mode.SUBTRACT)

    # Mirror3: Boss-Extrude3, Cut-Extrude5 across plane
    add(boss_extrude3.mirror(Plane(origin=(0, 0, 0), x_dir=(0, 0, 1), z_dir=(1, 0, 0))))
    add(cut_extrude5.mirror(Plane(origin=(0, 0, 0), x_dir=(0, 0, 1), z_dir=(1, 0, 0))), mode=Mode.SUBTRACT)

    # Fillet4 of Mirror3
    fillet4_of_mirror3_edges = [part.edges().sort_by_distance(p)[0] for p in [
        (47.5, 3, -55),
    ]]
    fillet(fillet4_of_mirror3_edges, radius=FILLET4_OF_MIRROR3_R)

    # Fillet5 of Mirror3
    fillet5_of_mirror3_edges = [part.edges().sort_by_distance(p)[0] for p in [
        (47.5, 13, -60),
    ]]
    fillet(fillet5_of_mirror3_edges, radius=FILLET5_OF_MIRROR3_R)

    # Sketch10 → Cut-Extrude7 (cut)
    with BuildSketch(Plane(origin=(0, 3, 0), x_dir=(1, 0, 0), z_dir=(0, 1, 0))):
        with Locations(Location((85, -45, 0), (0, 0, 270))):
            Circle(SKETCH10_R)
    cut_extrude7 = extrude(amount=-CUT_EXTRUDE7_DEPTH, mode=Mode.SUBTRACT)

    # Mirror4: Cut-Extrude7 across plane
    add(cut_extrude7.mirror(Plane(origin=(0, 0, 0), x_dir=(0, 0, 1), z_dir=(1, 0, 0))), mode=Mode.SUBTRACT)

    # Mirror5: Cut-Extrude7 across plane
    add(cut_extrude7.mirror(Plane.XY), mode=Mode.SUBTRACT)

    # Mirror5 copy 1 sketch → Mirror5 copy 1 (cut)
    with BuildSketch(Plane(origin=(0, 3, 0), x_dir=(-1, 0, 0), z_dir=(0, 1, 0))):
        with Locations(Location((85, -45, 0), (0, 0, 270))):
            Circle(MIRROR5_COPY_1_SKETCH_R)
    extrude(amount=-MIRROR5_COPY_1_DEPTH, mode=Mode.SUBTRACT)


solid = part.part
